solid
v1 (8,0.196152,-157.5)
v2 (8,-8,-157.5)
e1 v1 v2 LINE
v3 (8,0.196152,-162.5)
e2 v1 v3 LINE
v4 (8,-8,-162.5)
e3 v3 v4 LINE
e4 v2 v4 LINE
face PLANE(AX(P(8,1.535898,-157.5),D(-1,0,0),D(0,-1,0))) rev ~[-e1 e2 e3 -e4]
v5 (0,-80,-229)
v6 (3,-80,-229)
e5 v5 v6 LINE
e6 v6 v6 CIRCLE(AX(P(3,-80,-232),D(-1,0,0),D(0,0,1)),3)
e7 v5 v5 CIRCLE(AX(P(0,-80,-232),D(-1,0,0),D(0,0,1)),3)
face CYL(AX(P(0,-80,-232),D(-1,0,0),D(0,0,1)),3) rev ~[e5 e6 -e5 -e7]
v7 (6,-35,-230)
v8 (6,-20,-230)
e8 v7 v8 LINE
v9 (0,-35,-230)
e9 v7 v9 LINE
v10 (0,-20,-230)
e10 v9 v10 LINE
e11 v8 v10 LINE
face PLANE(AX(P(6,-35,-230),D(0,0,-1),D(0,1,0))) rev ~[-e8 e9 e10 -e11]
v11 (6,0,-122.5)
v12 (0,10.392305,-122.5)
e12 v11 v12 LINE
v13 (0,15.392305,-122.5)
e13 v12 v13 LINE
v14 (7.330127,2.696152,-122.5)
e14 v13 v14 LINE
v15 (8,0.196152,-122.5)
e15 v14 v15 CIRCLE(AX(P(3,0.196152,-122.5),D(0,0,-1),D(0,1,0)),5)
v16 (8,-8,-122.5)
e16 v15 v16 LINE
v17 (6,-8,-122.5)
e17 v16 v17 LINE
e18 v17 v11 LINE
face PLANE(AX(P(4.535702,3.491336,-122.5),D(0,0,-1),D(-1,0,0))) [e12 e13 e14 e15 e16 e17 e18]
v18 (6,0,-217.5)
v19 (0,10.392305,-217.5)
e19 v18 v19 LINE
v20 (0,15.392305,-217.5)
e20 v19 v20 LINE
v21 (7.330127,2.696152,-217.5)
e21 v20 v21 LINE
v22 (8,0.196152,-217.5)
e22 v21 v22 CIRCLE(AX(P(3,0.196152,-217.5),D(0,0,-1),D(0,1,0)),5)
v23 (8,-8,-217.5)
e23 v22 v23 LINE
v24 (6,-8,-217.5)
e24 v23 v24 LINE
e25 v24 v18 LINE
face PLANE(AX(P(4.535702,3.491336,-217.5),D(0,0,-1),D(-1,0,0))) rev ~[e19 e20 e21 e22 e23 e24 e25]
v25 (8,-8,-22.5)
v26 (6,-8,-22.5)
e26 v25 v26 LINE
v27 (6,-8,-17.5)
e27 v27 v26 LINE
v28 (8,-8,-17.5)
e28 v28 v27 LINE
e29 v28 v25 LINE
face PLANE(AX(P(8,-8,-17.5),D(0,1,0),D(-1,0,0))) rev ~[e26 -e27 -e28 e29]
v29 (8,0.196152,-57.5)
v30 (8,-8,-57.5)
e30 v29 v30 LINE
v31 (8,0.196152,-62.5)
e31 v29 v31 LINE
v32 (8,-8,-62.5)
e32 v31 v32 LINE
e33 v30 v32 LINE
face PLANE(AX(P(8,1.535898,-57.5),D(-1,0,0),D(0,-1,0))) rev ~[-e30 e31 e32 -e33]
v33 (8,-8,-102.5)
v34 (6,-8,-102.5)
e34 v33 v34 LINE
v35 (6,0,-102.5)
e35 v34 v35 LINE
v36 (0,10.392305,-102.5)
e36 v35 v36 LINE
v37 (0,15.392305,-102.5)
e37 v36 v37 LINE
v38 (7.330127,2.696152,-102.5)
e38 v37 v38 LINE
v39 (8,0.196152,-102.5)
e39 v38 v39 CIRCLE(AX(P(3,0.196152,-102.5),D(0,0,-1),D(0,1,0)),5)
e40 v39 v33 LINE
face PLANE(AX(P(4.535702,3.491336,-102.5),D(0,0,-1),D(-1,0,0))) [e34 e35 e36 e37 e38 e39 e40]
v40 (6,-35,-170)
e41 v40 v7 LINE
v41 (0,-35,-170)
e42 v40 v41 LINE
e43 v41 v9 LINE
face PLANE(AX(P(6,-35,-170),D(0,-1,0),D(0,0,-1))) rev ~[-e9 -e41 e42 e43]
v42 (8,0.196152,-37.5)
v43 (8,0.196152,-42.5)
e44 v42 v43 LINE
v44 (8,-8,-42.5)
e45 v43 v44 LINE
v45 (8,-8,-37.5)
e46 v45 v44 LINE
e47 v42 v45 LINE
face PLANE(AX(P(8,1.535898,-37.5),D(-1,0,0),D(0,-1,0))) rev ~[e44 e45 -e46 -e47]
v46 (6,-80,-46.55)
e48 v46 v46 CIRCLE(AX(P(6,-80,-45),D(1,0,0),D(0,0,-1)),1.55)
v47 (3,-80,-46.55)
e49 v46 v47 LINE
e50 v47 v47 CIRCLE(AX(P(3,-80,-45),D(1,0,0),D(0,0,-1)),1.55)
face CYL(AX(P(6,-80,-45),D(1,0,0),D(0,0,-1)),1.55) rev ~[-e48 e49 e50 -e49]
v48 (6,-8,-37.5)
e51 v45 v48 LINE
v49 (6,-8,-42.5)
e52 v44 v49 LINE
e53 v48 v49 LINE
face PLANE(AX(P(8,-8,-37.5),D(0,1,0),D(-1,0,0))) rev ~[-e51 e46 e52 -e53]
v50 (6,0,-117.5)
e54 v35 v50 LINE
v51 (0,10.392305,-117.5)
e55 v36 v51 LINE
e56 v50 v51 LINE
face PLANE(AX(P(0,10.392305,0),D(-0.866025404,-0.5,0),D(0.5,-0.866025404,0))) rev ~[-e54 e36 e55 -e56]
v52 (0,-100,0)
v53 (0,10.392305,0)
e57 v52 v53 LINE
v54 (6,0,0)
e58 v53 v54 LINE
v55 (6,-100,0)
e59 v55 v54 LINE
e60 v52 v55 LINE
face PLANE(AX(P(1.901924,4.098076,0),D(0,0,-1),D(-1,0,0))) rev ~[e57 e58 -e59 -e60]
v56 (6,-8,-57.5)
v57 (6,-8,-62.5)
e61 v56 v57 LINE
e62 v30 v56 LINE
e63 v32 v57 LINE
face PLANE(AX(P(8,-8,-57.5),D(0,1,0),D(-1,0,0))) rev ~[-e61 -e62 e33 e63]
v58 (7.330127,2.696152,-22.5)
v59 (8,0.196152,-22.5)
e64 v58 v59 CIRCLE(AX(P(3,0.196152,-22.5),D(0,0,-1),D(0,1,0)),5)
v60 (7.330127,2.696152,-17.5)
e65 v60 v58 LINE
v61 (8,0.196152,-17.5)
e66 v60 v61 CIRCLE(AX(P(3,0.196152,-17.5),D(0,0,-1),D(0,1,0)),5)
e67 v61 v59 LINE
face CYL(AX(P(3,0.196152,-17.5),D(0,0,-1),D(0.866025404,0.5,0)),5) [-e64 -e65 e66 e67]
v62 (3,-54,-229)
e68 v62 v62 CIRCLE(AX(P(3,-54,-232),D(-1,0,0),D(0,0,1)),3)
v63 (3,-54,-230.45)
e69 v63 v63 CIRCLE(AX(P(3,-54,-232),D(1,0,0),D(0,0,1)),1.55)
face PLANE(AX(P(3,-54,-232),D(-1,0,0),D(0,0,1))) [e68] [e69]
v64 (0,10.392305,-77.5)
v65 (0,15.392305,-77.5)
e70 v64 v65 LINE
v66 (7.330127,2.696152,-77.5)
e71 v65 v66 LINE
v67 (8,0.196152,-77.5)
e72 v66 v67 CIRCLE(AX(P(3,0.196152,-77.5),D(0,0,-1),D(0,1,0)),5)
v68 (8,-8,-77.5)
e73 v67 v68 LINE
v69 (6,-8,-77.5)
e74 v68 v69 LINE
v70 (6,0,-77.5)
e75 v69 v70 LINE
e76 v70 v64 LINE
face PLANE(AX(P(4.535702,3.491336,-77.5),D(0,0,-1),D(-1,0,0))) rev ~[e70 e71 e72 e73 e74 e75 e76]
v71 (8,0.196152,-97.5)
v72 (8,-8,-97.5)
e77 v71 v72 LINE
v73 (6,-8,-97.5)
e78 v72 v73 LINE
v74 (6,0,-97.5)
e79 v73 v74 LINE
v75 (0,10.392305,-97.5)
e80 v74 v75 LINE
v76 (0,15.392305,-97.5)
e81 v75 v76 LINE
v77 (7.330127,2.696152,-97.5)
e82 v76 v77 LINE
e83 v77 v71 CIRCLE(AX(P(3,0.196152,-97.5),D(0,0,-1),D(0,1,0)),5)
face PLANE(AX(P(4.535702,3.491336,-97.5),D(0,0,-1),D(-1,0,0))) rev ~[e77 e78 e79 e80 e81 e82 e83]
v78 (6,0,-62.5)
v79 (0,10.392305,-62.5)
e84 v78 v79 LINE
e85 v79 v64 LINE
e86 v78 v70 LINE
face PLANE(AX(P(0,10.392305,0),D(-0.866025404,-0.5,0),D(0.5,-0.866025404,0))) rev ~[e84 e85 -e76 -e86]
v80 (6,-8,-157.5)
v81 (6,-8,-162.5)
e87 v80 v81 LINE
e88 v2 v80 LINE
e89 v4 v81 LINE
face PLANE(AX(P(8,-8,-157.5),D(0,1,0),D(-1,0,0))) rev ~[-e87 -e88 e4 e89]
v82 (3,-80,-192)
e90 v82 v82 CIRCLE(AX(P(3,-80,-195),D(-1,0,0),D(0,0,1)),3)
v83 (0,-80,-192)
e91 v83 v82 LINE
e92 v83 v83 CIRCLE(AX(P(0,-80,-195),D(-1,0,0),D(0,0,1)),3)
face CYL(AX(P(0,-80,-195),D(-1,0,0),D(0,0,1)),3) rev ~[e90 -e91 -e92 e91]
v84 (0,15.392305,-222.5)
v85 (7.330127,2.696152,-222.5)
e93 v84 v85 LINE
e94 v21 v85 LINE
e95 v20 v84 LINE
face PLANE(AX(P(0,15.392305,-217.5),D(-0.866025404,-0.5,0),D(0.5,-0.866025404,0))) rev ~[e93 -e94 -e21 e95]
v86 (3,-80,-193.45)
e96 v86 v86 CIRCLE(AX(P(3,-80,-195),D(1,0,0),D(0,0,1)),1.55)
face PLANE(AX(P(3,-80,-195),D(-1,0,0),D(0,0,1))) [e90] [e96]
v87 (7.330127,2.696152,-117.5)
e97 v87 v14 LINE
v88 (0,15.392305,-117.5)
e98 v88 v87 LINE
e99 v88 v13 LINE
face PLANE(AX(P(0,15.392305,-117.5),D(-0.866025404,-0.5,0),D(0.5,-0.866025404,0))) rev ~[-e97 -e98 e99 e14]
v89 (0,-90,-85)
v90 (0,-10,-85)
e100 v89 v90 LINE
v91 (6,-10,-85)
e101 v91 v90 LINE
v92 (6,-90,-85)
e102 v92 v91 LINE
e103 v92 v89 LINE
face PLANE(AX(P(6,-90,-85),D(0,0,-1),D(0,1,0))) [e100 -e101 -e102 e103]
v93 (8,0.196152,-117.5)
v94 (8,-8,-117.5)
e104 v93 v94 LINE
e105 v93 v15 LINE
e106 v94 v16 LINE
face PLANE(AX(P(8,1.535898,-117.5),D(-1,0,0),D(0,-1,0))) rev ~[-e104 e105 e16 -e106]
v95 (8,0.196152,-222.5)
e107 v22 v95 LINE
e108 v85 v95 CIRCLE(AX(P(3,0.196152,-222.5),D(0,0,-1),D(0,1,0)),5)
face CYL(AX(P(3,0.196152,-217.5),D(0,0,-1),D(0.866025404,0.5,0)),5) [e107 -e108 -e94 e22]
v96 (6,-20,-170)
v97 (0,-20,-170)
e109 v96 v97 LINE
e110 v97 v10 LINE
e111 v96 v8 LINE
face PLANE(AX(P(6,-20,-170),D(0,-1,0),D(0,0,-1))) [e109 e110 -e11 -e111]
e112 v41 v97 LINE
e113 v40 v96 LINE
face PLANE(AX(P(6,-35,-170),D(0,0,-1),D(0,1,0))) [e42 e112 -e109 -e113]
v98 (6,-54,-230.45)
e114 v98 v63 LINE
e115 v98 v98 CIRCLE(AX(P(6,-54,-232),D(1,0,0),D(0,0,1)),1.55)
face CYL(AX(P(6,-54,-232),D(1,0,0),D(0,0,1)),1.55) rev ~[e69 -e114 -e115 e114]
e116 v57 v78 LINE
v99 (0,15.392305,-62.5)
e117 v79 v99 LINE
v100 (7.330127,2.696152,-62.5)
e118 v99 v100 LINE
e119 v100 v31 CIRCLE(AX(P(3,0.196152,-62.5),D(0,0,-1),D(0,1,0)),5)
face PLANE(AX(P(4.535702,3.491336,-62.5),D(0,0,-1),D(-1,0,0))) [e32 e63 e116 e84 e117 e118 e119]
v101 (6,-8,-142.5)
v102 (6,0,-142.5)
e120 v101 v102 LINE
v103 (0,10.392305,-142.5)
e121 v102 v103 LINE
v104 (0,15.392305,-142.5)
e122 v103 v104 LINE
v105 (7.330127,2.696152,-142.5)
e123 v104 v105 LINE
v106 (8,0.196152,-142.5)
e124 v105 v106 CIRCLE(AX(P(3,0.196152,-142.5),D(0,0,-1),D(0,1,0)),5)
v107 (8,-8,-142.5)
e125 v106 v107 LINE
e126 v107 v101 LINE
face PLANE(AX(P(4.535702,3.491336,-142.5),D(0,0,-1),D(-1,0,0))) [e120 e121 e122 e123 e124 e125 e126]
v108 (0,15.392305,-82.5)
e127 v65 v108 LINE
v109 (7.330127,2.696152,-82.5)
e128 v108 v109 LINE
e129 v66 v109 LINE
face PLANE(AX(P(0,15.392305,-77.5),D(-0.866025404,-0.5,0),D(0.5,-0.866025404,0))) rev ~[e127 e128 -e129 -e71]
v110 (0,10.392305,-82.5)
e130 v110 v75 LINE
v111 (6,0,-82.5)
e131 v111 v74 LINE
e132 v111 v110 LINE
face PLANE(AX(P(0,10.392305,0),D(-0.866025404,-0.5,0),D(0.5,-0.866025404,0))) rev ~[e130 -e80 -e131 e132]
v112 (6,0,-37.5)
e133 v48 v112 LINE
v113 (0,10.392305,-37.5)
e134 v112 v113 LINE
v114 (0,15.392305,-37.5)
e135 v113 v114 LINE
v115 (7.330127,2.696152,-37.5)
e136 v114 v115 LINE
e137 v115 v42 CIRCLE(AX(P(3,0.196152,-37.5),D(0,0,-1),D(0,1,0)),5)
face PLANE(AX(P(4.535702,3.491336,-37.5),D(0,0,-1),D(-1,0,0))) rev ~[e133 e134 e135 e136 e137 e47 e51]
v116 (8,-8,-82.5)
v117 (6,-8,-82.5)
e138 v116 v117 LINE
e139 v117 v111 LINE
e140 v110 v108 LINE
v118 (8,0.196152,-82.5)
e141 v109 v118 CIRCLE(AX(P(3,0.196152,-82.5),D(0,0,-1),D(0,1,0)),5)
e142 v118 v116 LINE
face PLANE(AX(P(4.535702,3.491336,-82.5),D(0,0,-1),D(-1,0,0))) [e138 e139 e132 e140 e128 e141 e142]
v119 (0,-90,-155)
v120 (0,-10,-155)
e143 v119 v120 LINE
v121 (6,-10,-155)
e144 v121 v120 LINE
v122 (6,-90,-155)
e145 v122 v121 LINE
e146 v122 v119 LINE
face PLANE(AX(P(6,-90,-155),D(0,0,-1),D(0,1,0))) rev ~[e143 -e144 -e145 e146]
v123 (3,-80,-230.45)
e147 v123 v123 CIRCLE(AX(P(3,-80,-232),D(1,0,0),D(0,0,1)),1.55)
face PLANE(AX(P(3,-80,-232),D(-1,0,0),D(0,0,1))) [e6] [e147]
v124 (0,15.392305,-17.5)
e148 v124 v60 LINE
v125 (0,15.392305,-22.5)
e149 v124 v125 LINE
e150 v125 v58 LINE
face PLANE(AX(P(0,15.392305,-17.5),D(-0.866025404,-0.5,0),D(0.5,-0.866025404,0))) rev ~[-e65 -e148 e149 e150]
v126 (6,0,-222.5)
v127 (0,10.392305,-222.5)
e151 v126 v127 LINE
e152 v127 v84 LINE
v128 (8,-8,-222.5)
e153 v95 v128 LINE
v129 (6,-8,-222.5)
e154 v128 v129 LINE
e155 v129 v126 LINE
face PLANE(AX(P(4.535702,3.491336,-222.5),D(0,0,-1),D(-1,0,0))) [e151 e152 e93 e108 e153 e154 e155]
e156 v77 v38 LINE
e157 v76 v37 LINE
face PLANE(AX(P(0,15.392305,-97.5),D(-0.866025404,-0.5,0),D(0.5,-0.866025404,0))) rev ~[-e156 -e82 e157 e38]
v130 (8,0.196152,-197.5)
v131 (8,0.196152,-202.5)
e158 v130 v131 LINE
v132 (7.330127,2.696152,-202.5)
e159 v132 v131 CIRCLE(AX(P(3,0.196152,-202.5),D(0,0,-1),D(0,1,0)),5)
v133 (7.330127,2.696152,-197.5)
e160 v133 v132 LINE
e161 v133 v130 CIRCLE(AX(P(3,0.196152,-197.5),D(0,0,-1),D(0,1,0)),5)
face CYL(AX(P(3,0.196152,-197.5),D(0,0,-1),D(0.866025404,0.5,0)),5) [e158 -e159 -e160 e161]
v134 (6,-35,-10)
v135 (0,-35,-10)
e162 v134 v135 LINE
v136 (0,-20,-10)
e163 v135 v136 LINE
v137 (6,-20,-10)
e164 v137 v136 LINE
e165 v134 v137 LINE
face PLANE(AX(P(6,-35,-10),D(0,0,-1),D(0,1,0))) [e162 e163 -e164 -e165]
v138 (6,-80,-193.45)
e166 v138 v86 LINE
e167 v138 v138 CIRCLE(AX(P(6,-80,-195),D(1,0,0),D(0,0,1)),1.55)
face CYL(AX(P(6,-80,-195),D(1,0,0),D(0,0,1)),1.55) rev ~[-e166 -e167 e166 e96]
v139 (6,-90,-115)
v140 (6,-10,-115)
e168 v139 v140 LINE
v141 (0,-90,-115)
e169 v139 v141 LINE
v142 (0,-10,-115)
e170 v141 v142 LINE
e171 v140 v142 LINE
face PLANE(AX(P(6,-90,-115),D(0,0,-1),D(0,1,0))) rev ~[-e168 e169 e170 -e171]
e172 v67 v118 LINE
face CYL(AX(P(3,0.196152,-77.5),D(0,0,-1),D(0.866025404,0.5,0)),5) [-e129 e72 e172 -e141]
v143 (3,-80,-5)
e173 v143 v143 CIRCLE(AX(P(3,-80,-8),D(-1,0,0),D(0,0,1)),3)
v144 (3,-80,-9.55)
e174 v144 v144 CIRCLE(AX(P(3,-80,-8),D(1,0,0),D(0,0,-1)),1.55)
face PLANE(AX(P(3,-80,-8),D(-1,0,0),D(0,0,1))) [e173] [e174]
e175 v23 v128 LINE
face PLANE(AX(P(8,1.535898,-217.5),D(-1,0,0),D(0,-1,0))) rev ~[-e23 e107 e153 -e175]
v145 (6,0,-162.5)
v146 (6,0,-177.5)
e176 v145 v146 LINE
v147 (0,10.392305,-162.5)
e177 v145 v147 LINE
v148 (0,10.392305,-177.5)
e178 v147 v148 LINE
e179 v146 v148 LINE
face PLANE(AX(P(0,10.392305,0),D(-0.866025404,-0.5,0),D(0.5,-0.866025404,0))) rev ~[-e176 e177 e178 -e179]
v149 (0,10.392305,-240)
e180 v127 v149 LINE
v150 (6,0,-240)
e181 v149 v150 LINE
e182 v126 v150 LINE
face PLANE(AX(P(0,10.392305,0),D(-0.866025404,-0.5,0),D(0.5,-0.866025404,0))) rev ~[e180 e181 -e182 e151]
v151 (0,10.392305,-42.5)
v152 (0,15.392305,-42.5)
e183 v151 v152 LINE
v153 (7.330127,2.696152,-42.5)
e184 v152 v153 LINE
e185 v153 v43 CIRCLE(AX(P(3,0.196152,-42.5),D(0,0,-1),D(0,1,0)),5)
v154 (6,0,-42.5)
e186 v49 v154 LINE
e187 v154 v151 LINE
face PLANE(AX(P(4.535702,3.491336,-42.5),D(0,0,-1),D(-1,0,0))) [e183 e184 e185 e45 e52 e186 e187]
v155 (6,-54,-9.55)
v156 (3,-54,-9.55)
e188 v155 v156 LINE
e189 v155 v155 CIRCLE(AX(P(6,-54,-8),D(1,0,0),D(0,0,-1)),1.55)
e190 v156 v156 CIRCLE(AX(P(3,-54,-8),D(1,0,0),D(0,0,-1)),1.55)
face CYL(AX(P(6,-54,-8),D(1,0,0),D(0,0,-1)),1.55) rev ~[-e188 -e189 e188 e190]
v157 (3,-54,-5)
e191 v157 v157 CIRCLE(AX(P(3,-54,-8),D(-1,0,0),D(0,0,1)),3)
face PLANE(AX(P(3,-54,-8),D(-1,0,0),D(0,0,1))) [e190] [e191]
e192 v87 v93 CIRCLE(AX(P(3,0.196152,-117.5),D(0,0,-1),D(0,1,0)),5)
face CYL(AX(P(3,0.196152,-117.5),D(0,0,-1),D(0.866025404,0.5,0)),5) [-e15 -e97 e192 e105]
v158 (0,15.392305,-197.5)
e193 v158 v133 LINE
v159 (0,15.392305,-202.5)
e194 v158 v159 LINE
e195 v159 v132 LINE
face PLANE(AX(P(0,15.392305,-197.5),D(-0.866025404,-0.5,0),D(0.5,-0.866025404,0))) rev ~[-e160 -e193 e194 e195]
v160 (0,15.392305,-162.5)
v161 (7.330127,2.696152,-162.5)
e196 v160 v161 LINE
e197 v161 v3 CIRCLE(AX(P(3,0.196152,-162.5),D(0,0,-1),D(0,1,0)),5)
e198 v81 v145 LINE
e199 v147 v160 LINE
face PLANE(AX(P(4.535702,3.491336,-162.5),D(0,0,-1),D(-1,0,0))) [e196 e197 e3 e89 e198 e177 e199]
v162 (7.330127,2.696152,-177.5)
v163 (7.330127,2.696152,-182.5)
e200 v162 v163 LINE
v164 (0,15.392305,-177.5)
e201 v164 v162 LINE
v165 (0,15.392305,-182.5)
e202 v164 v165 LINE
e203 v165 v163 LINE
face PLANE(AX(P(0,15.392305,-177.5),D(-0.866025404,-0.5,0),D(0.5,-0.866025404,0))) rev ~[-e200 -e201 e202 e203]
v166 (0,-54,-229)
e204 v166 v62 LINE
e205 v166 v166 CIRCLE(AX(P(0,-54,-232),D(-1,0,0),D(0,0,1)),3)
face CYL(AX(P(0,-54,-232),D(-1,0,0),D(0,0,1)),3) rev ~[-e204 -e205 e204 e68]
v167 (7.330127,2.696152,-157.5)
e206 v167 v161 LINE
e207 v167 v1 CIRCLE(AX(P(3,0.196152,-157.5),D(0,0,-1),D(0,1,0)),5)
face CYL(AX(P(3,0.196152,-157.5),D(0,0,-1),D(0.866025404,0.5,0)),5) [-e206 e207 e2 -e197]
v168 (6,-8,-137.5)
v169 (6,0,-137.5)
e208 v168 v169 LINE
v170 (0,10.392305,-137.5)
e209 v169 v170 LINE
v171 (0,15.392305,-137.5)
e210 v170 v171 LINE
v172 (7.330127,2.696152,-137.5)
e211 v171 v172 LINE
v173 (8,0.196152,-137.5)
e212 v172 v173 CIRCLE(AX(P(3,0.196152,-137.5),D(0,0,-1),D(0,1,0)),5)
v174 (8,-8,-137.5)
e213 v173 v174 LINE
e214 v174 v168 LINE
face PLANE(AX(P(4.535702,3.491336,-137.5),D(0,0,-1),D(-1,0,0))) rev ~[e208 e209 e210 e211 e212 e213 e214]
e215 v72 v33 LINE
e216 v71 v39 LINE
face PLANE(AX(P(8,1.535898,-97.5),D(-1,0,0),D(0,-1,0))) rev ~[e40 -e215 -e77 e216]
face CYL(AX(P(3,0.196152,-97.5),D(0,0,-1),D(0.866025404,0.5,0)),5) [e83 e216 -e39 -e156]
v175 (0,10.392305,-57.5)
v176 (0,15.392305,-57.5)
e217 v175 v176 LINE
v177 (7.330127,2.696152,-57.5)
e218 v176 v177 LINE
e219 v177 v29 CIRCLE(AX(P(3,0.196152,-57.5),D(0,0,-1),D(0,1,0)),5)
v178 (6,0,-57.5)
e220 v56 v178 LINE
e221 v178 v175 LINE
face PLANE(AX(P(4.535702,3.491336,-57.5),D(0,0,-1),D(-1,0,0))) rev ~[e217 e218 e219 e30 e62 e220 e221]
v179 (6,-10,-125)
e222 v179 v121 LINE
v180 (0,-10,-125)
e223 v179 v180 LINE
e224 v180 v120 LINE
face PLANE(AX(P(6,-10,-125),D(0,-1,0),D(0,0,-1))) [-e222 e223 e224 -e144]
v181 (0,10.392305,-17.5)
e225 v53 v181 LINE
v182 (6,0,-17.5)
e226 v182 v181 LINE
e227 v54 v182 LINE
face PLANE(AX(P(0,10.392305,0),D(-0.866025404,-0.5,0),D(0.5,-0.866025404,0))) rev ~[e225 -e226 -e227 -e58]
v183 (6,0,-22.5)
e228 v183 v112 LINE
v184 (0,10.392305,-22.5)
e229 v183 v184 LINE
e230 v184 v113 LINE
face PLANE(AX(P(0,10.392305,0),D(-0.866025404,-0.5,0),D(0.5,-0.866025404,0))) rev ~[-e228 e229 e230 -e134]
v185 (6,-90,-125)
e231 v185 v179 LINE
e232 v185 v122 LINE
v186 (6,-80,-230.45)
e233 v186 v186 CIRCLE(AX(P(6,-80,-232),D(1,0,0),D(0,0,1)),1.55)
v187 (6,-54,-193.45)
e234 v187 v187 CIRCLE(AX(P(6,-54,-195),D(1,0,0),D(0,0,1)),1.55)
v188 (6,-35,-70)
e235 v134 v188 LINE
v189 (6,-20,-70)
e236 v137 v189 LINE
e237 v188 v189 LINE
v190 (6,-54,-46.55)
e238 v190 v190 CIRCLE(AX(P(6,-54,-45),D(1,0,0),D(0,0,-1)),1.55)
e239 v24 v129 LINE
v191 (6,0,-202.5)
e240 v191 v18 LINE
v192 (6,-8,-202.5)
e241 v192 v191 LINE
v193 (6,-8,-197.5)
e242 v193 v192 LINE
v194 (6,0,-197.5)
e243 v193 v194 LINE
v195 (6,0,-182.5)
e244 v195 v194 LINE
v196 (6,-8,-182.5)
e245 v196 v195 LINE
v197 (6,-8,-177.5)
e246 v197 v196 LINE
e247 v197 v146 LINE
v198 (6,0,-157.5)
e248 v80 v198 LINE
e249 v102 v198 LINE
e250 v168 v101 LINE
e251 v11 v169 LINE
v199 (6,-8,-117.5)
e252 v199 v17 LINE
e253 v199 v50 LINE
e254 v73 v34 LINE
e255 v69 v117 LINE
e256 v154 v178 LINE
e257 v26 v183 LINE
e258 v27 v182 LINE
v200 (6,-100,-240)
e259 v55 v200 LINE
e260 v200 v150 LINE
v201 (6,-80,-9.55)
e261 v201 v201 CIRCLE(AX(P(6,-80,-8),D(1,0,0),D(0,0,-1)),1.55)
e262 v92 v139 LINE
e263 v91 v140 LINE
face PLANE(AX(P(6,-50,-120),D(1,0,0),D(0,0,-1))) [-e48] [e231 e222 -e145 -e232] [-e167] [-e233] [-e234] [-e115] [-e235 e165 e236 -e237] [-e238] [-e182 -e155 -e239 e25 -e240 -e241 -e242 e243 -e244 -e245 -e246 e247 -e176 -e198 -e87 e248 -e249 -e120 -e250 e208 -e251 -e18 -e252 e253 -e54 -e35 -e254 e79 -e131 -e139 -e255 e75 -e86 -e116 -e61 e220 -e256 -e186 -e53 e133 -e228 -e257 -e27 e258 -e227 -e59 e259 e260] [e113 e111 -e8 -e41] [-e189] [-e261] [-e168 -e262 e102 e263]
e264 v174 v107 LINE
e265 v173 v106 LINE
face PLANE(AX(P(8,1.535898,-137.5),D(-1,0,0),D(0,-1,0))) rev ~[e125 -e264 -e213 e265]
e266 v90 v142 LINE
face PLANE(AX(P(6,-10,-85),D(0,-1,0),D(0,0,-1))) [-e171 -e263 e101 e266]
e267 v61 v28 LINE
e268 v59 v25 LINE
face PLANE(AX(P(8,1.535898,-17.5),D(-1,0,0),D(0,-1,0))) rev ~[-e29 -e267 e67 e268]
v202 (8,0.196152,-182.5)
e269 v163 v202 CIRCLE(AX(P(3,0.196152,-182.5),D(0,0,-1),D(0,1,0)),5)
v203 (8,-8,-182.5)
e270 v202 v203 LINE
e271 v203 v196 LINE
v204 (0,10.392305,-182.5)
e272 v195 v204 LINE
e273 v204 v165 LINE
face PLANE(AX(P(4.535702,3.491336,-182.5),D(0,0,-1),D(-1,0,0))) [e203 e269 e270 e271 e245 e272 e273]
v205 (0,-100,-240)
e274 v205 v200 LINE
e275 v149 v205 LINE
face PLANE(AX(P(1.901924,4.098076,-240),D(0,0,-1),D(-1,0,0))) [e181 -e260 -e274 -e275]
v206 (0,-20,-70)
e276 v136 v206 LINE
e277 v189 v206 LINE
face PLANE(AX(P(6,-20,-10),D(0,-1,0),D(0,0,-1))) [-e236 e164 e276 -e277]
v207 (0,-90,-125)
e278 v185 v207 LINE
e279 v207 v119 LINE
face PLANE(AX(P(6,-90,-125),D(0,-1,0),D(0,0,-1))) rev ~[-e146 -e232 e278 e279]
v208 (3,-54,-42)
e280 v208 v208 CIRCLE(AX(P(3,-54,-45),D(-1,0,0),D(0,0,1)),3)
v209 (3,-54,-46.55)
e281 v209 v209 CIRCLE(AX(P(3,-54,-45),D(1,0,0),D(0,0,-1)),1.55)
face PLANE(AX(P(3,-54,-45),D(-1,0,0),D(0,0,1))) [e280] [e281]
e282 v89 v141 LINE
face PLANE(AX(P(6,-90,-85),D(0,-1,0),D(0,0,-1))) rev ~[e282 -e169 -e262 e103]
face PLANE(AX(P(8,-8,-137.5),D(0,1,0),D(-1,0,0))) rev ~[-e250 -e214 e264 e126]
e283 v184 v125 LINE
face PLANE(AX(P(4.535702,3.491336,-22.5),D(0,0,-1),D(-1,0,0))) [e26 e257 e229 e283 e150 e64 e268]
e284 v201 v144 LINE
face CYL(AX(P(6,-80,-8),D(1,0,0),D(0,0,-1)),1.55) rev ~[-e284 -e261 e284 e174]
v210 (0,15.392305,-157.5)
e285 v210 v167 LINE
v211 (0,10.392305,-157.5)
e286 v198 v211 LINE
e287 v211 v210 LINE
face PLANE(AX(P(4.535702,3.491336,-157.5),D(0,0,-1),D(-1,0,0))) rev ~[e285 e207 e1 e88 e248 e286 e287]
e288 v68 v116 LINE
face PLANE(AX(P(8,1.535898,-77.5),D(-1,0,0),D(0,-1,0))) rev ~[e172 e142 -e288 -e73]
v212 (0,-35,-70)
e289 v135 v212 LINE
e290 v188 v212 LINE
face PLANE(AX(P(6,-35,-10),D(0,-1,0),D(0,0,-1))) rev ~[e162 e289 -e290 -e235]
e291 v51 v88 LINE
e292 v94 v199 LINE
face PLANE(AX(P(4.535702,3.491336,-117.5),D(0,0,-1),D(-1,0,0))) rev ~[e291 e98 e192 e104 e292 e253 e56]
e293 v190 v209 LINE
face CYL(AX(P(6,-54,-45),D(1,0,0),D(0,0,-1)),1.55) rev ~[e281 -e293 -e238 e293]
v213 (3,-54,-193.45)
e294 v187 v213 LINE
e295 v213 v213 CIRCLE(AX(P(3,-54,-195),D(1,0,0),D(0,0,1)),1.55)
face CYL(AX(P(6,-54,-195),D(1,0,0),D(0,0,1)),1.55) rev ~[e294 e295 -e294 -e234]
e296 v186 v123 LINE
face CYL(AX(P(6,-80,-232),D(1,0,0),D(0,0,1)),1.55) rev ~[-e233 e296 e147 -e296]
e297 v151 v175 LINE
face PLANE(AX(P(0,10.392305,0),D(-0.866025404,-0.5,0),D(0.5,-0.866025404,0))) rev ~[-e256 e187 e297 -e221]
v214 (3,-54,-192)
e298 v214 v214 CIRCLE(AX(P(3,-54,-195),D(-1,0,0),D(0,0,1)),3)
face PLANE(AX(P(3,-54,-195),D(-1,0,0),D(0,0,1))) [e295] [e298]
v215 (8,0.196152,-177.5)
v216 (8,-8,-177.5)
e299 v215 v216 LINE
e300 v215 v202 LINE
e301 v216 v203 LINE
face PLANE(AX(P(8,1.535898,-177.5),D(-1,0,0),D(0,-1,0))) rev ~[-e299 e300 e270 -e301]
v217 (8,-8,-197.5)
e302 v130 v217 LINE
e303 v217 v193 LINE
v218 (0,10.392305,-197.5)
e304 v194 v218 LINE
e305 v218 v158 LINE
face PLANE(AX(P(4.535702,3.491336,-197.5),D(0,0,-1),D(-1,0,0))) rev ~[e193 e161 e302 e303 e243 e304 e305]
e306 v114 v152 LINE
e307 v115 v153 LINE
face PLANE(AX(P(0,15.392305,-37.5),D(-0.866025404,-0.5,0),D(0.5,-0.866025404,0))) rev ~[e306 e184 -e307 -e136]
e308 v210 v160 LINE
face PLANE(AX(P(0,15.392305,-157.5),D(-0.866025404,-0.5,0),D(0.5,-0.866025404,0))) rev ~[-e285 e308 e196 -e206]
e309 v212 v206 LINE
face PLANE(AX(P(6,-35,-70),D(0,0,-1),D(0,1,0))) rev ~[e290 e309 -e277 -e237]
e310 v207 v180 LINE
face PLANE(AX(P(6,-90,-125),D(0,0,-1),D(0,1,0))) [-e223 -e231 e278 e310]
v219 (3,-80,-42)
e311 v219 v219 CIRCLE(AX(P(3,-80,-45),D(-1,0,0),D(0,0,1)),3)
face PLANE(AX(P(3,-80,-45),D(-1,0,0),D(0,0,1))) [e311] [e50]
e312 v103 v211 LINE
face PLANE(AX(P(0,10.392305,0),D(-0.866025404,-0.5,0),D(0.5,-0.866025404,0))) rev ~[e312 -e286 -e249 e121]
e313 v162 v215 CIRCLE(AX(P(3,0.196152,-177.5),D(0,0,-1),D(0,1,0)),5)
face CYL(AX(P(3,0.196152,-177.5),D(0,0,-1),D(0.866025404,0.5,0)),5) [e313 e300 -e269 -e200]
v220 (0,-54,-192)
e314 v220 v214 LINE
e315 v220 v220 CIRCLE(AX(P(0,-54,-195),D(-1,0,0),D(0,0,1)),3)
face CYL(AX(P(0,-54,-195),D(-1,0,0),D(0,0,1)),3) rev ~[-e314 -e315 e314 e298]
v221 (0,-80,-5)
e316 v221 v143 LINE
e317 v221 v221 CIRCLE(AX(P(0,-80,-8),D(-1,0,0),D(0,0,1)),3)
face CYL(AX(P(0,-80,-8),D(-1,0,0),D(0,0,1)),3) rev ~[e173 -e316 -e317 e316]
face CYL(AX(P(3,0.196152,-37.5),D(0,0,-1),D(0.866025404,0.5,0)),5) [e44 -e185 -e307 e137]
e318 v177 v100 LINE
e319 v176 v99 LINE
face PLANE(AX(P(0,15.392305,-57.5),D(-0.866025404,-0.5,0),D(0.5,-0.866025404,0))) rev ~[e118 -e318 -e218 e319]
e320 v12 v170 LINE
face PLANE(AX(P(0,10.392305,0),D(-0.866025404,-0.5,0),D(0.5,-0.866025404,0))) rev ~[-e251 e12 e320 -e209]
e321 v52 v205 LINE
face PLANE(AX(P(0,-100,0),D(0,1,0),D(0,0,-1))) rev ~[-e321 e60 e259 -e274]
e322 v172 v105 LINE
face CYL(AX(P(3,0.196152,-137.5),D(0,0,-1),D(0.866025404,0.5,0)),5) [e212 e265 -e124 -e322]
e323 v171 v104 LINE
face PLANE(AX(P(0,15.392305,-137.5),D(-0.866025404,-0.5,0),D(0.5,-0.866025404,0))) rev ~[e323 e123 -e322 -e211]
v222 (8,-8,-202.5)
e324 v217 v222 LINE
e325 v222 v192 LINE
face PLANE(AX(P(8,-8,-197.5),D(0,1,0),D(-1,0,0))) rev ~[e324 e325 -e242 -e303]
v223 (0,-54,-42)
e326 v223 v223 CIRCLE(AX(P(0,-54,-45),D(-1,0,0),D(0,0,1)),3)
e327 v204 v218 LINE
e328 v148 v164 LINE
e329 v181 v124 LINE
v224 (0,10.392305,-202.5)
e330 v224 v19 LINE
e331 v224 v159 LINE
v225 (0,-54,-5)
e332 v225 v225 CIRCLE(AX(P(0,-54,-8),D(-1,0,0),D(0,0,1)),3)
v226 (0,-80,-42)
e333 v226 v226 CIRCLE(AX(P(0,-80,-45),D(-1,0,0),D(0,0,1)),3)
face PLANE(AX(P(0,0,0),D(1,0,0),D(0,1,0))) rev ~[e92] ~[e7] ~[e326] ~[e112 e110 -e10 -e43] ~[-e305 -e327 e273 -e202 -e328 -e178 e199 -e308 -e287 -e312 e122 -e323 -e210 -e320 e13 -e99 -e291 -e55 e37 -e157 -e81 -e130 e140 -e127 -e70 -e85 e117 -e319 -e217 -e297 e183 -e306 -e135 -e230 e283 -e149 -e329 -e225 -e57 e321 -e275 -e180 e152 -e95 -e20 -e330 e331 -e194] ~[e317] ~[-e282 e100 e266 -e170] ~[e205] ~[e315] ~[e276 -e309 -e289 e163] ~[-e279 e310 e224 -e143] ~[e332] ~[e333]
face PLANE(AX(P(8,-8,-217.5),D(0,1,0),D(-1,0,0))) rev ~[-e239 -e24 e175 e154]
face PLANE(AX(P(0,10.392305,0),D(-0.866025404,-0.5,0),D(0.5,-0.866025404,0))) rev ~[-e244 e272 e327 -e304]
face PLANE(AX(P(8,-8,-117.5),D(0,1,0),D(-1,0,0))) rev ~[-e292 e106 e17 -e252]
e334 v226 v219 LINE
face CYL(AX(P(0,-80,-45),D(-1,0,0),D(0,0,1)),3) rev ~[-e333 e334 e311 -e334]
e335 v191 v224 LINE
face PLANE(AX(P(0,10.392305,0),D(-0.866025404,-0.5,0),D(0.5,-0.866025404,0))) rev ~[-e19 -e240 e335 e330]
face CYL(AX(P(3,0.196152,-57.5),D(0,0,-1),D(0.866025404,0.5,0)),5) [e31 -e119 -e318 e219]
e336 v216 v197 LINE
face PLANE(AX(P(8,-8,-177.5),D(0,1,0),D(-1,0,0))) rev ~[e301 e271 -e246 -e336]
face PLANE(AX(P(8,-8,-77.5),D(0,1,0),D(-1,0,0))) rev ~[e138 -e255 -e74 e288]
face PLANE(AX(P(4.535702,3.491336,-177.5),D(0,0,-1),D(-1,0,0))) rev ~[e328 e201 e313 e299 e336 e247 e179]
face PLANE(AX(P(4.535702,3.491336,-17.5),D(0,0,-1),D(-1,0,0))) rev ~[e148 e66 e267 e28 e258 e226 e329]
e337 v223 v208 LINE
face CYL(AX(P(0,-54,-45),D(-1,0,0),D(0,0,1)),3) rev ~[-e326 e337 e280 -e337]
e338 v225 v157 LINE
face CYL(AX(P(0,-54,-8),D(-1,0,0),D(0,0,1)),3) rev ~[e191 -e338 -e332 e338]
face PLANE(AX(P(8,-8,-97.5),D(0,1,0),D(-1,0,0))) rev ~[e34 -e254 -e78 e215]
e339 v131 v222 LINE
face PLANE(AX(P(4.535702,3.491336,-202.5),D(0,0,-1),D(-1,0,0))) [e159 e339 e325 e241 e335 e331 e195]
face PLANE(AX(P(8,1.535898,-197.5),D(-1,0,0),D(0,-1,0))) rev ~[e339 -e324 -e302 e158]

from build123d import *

# Parameters (mm, degrees)
SKETCH_1_W                 = 240
SKETCH_1_H                 = 100
EXTRUDE_1_DEPTH            = 6
SKETCH_2_R                 = 1.55
CUT_EXTRUDE_1_DEPTH        = 261.069221555
SKETCH_3_W                 = 60
SKETCH_3_H                 = 15
CUT_EXTRUDE_2_DEPTH        = 261.069221555
SKETCH_4_W                 = 30
SKETCH_4_H                 = 80
CUT_EXTRUDE_3_DEPTH        = 261.069221555
SKETCH_5_R                 = 3
CUT_EXTRUDE_4_DEPTH        = 3
EXTRUDE_2_DEPTH            = 240
EXTRUDE_3_DEPTH            = 5
PATTERN_LINEAR_5_COUNT     = 6
PATTERN_LINEAR_5_PITCH     = 20
PATTERN_LINEAR_5_COL_COUNT = 6
PATTERN_LINEAR_5_COL_PITCH = 20
FILLET_5_R                 = 5


with BuildPart() as part:
    # 草图1 → 凸台-拉伸1 (new body)
    with BuildSketch(Plane(origin=(0, 0, 0), x_dir=(0, 0, -1), z_dir=(1, 0, 0))):
        with Locations((120, -50)):
            Rectangle(SKETCH_1_W, SKETCH_1_H)
    extrude(amount=EXTRUDE_1_DEPTH)

    # 草图2 → 切除-拉伸1 (cut, through all)
    with BuildSketch(Plane(origin=(6, 0, 0), x_dir=(0, 0, -1), z_dir=(1, 0, 0))):
        with Locations((8, -54)):
            Circle(SKETCH_2_R)
        with Locations((45, -80)):
            Circle(SKETCH_2_R)
        with Locations((45, -54)):
            Circle(SKETCH_2_R)
        with Locations((8, -80)):
            Circle(SKETCH_2_R)
        with Locations(Location((232, -80, 0), (0, 0, 180))):
            Circle(SKETCH_2_R)
        with Locations(Location((195, -54, 0), (0, 0, 180))):
            Circle(SKETCH_2_R)
        with Locations(Location((195, -80, 0), (0, 0, 180))):
            Circle(SKETCH_2_R)
        with Locations(Location((232, -54, 0), (0, 0, 180))):
            Circle(SKETCH_2_R)
    extrude(amount=-CUT_EXTRUDE_1_DEPTH, mode=Mode.SUBTRACT)

    # 草图3 → 切除-拉伸2 (cut, through all)
    with BuildSketch(Plane(origin=(6, 0, 0), x_dir=(0, 0, -1), z_dir=(1, 0, 0))):
        with Locations((40, -27.5)):
            Rectangle(SKETCH_3_W, SKETCH_3_H)
        with Locations((200, -27.5)):
            Rectangle(SKETCH_3_W, SKETCH_3_H)
    extrude(amount=-CUT_EXTRUDE_2_DEPTH, mode=Mode.SUBTRACT)

    # 草图4 → 切除-拉伸3 (cut, through all)
    with BuildSketch(Plane(origin=(6, 0, 0), x_dir=(0, 0, -1), z_dir=(1, 0, 0))):
        with Locations((100, -50)):
            Rectangle(SKETCH_4_W, SKETCH_4_H)
        with Locations((140, -50)):
            Rectangle(SKETCH_4_W, SKETCH_4_H)
    extrude(amount=-CUT_EXTRUDE_3_DEPTH, mode=Mode.SUBTRACT)

    # 草图5 → 切除-拉伸4 (cut)
    with BuildSketch(Plane.ZY):
        with Locations((-195, -80)):
            Circle(SKETCH_5_R)
        with Locations((-232, -80)):
            Circle(SKETCH_5_R)
        with Locations((-195, -54)):
            Circle(SKETCH_5_R)
        with Locations((-232, -54)):
            Circle(SKETCH_5_R)
        with Locations((-45, -80)):
            Circle(SKETCH_5_R)
        with Locations((-8, -80)):
            Circle(SKETCH_5_R)
        with Locations((-8, -54)):
            Circle(SKETCH_5_R)
        with Locations((-45, -54)):
            Circle(SKETCH_5_R)
    extrude(amount=-CUT_EXTRUDE_4_DEPTH, mode=Mode.SUBTRACT)

    # 草图6 → 凸台-拉伸2 (add)
    with BuildSketch(Plane.XY):
        Polygon((6, 0), (0, 0), (0, 10.392304845), align=None)
    extrude(amount=-EXTRUDE_2_DEPTH)

    # 草图7 → 凸台-拉伸3 (add)
    with BuildSketch(Plane.XY.offset(-117.5)):
        Polygon((0, 10.392304845), (0, 15.392304845), (8, 1.535898385), (8, -8), (6, -8), (6, 0), align=None)
    extrude_3 = extrude(amount=-EXTRUDE_3_DEPTH)

    # 阵列(线性)5: 凸台-拉伸3 ×6
    with Locations(*[(0, 0, i * PATTERN_LINEAR_5_PITCH) for i in range(1, PATTERN_LINEAR_5_COUNT)]):
        add(extrude_3)

    # 阵列(线性)5 col: 凸台-拉伸3 ×6
    with Locations(*[(0, 0, -i * PATTERN_LINEAR_5_COL_PITCH) for i in range(1, PATTERN_LINEAR_5_COL_COUNT)]):
        add(extrude_3)

    # 圆角5
    fillet_5_edges = [part.edges().sort_by_distance(p)[0] for p in [
        (8, 1.535898385, -120),
        (8, 1.535898385, -140),
        (8, 1.535898385, -160),
        (8, 1.535898385, -180),
        (8, 1.535898385, -200),
        (8, 1.535898385, -220),
        (8, 1.535898385, -100),
        (8, 1.535898385, -80),
        (8, 1.535898385, -60),
        (8, 1.535898385, -40),
        (8, 1.535898385, -20),
    ]]
    fillet(fillet_5_edges, radius=FILLET_5_R)


solid = part.part
